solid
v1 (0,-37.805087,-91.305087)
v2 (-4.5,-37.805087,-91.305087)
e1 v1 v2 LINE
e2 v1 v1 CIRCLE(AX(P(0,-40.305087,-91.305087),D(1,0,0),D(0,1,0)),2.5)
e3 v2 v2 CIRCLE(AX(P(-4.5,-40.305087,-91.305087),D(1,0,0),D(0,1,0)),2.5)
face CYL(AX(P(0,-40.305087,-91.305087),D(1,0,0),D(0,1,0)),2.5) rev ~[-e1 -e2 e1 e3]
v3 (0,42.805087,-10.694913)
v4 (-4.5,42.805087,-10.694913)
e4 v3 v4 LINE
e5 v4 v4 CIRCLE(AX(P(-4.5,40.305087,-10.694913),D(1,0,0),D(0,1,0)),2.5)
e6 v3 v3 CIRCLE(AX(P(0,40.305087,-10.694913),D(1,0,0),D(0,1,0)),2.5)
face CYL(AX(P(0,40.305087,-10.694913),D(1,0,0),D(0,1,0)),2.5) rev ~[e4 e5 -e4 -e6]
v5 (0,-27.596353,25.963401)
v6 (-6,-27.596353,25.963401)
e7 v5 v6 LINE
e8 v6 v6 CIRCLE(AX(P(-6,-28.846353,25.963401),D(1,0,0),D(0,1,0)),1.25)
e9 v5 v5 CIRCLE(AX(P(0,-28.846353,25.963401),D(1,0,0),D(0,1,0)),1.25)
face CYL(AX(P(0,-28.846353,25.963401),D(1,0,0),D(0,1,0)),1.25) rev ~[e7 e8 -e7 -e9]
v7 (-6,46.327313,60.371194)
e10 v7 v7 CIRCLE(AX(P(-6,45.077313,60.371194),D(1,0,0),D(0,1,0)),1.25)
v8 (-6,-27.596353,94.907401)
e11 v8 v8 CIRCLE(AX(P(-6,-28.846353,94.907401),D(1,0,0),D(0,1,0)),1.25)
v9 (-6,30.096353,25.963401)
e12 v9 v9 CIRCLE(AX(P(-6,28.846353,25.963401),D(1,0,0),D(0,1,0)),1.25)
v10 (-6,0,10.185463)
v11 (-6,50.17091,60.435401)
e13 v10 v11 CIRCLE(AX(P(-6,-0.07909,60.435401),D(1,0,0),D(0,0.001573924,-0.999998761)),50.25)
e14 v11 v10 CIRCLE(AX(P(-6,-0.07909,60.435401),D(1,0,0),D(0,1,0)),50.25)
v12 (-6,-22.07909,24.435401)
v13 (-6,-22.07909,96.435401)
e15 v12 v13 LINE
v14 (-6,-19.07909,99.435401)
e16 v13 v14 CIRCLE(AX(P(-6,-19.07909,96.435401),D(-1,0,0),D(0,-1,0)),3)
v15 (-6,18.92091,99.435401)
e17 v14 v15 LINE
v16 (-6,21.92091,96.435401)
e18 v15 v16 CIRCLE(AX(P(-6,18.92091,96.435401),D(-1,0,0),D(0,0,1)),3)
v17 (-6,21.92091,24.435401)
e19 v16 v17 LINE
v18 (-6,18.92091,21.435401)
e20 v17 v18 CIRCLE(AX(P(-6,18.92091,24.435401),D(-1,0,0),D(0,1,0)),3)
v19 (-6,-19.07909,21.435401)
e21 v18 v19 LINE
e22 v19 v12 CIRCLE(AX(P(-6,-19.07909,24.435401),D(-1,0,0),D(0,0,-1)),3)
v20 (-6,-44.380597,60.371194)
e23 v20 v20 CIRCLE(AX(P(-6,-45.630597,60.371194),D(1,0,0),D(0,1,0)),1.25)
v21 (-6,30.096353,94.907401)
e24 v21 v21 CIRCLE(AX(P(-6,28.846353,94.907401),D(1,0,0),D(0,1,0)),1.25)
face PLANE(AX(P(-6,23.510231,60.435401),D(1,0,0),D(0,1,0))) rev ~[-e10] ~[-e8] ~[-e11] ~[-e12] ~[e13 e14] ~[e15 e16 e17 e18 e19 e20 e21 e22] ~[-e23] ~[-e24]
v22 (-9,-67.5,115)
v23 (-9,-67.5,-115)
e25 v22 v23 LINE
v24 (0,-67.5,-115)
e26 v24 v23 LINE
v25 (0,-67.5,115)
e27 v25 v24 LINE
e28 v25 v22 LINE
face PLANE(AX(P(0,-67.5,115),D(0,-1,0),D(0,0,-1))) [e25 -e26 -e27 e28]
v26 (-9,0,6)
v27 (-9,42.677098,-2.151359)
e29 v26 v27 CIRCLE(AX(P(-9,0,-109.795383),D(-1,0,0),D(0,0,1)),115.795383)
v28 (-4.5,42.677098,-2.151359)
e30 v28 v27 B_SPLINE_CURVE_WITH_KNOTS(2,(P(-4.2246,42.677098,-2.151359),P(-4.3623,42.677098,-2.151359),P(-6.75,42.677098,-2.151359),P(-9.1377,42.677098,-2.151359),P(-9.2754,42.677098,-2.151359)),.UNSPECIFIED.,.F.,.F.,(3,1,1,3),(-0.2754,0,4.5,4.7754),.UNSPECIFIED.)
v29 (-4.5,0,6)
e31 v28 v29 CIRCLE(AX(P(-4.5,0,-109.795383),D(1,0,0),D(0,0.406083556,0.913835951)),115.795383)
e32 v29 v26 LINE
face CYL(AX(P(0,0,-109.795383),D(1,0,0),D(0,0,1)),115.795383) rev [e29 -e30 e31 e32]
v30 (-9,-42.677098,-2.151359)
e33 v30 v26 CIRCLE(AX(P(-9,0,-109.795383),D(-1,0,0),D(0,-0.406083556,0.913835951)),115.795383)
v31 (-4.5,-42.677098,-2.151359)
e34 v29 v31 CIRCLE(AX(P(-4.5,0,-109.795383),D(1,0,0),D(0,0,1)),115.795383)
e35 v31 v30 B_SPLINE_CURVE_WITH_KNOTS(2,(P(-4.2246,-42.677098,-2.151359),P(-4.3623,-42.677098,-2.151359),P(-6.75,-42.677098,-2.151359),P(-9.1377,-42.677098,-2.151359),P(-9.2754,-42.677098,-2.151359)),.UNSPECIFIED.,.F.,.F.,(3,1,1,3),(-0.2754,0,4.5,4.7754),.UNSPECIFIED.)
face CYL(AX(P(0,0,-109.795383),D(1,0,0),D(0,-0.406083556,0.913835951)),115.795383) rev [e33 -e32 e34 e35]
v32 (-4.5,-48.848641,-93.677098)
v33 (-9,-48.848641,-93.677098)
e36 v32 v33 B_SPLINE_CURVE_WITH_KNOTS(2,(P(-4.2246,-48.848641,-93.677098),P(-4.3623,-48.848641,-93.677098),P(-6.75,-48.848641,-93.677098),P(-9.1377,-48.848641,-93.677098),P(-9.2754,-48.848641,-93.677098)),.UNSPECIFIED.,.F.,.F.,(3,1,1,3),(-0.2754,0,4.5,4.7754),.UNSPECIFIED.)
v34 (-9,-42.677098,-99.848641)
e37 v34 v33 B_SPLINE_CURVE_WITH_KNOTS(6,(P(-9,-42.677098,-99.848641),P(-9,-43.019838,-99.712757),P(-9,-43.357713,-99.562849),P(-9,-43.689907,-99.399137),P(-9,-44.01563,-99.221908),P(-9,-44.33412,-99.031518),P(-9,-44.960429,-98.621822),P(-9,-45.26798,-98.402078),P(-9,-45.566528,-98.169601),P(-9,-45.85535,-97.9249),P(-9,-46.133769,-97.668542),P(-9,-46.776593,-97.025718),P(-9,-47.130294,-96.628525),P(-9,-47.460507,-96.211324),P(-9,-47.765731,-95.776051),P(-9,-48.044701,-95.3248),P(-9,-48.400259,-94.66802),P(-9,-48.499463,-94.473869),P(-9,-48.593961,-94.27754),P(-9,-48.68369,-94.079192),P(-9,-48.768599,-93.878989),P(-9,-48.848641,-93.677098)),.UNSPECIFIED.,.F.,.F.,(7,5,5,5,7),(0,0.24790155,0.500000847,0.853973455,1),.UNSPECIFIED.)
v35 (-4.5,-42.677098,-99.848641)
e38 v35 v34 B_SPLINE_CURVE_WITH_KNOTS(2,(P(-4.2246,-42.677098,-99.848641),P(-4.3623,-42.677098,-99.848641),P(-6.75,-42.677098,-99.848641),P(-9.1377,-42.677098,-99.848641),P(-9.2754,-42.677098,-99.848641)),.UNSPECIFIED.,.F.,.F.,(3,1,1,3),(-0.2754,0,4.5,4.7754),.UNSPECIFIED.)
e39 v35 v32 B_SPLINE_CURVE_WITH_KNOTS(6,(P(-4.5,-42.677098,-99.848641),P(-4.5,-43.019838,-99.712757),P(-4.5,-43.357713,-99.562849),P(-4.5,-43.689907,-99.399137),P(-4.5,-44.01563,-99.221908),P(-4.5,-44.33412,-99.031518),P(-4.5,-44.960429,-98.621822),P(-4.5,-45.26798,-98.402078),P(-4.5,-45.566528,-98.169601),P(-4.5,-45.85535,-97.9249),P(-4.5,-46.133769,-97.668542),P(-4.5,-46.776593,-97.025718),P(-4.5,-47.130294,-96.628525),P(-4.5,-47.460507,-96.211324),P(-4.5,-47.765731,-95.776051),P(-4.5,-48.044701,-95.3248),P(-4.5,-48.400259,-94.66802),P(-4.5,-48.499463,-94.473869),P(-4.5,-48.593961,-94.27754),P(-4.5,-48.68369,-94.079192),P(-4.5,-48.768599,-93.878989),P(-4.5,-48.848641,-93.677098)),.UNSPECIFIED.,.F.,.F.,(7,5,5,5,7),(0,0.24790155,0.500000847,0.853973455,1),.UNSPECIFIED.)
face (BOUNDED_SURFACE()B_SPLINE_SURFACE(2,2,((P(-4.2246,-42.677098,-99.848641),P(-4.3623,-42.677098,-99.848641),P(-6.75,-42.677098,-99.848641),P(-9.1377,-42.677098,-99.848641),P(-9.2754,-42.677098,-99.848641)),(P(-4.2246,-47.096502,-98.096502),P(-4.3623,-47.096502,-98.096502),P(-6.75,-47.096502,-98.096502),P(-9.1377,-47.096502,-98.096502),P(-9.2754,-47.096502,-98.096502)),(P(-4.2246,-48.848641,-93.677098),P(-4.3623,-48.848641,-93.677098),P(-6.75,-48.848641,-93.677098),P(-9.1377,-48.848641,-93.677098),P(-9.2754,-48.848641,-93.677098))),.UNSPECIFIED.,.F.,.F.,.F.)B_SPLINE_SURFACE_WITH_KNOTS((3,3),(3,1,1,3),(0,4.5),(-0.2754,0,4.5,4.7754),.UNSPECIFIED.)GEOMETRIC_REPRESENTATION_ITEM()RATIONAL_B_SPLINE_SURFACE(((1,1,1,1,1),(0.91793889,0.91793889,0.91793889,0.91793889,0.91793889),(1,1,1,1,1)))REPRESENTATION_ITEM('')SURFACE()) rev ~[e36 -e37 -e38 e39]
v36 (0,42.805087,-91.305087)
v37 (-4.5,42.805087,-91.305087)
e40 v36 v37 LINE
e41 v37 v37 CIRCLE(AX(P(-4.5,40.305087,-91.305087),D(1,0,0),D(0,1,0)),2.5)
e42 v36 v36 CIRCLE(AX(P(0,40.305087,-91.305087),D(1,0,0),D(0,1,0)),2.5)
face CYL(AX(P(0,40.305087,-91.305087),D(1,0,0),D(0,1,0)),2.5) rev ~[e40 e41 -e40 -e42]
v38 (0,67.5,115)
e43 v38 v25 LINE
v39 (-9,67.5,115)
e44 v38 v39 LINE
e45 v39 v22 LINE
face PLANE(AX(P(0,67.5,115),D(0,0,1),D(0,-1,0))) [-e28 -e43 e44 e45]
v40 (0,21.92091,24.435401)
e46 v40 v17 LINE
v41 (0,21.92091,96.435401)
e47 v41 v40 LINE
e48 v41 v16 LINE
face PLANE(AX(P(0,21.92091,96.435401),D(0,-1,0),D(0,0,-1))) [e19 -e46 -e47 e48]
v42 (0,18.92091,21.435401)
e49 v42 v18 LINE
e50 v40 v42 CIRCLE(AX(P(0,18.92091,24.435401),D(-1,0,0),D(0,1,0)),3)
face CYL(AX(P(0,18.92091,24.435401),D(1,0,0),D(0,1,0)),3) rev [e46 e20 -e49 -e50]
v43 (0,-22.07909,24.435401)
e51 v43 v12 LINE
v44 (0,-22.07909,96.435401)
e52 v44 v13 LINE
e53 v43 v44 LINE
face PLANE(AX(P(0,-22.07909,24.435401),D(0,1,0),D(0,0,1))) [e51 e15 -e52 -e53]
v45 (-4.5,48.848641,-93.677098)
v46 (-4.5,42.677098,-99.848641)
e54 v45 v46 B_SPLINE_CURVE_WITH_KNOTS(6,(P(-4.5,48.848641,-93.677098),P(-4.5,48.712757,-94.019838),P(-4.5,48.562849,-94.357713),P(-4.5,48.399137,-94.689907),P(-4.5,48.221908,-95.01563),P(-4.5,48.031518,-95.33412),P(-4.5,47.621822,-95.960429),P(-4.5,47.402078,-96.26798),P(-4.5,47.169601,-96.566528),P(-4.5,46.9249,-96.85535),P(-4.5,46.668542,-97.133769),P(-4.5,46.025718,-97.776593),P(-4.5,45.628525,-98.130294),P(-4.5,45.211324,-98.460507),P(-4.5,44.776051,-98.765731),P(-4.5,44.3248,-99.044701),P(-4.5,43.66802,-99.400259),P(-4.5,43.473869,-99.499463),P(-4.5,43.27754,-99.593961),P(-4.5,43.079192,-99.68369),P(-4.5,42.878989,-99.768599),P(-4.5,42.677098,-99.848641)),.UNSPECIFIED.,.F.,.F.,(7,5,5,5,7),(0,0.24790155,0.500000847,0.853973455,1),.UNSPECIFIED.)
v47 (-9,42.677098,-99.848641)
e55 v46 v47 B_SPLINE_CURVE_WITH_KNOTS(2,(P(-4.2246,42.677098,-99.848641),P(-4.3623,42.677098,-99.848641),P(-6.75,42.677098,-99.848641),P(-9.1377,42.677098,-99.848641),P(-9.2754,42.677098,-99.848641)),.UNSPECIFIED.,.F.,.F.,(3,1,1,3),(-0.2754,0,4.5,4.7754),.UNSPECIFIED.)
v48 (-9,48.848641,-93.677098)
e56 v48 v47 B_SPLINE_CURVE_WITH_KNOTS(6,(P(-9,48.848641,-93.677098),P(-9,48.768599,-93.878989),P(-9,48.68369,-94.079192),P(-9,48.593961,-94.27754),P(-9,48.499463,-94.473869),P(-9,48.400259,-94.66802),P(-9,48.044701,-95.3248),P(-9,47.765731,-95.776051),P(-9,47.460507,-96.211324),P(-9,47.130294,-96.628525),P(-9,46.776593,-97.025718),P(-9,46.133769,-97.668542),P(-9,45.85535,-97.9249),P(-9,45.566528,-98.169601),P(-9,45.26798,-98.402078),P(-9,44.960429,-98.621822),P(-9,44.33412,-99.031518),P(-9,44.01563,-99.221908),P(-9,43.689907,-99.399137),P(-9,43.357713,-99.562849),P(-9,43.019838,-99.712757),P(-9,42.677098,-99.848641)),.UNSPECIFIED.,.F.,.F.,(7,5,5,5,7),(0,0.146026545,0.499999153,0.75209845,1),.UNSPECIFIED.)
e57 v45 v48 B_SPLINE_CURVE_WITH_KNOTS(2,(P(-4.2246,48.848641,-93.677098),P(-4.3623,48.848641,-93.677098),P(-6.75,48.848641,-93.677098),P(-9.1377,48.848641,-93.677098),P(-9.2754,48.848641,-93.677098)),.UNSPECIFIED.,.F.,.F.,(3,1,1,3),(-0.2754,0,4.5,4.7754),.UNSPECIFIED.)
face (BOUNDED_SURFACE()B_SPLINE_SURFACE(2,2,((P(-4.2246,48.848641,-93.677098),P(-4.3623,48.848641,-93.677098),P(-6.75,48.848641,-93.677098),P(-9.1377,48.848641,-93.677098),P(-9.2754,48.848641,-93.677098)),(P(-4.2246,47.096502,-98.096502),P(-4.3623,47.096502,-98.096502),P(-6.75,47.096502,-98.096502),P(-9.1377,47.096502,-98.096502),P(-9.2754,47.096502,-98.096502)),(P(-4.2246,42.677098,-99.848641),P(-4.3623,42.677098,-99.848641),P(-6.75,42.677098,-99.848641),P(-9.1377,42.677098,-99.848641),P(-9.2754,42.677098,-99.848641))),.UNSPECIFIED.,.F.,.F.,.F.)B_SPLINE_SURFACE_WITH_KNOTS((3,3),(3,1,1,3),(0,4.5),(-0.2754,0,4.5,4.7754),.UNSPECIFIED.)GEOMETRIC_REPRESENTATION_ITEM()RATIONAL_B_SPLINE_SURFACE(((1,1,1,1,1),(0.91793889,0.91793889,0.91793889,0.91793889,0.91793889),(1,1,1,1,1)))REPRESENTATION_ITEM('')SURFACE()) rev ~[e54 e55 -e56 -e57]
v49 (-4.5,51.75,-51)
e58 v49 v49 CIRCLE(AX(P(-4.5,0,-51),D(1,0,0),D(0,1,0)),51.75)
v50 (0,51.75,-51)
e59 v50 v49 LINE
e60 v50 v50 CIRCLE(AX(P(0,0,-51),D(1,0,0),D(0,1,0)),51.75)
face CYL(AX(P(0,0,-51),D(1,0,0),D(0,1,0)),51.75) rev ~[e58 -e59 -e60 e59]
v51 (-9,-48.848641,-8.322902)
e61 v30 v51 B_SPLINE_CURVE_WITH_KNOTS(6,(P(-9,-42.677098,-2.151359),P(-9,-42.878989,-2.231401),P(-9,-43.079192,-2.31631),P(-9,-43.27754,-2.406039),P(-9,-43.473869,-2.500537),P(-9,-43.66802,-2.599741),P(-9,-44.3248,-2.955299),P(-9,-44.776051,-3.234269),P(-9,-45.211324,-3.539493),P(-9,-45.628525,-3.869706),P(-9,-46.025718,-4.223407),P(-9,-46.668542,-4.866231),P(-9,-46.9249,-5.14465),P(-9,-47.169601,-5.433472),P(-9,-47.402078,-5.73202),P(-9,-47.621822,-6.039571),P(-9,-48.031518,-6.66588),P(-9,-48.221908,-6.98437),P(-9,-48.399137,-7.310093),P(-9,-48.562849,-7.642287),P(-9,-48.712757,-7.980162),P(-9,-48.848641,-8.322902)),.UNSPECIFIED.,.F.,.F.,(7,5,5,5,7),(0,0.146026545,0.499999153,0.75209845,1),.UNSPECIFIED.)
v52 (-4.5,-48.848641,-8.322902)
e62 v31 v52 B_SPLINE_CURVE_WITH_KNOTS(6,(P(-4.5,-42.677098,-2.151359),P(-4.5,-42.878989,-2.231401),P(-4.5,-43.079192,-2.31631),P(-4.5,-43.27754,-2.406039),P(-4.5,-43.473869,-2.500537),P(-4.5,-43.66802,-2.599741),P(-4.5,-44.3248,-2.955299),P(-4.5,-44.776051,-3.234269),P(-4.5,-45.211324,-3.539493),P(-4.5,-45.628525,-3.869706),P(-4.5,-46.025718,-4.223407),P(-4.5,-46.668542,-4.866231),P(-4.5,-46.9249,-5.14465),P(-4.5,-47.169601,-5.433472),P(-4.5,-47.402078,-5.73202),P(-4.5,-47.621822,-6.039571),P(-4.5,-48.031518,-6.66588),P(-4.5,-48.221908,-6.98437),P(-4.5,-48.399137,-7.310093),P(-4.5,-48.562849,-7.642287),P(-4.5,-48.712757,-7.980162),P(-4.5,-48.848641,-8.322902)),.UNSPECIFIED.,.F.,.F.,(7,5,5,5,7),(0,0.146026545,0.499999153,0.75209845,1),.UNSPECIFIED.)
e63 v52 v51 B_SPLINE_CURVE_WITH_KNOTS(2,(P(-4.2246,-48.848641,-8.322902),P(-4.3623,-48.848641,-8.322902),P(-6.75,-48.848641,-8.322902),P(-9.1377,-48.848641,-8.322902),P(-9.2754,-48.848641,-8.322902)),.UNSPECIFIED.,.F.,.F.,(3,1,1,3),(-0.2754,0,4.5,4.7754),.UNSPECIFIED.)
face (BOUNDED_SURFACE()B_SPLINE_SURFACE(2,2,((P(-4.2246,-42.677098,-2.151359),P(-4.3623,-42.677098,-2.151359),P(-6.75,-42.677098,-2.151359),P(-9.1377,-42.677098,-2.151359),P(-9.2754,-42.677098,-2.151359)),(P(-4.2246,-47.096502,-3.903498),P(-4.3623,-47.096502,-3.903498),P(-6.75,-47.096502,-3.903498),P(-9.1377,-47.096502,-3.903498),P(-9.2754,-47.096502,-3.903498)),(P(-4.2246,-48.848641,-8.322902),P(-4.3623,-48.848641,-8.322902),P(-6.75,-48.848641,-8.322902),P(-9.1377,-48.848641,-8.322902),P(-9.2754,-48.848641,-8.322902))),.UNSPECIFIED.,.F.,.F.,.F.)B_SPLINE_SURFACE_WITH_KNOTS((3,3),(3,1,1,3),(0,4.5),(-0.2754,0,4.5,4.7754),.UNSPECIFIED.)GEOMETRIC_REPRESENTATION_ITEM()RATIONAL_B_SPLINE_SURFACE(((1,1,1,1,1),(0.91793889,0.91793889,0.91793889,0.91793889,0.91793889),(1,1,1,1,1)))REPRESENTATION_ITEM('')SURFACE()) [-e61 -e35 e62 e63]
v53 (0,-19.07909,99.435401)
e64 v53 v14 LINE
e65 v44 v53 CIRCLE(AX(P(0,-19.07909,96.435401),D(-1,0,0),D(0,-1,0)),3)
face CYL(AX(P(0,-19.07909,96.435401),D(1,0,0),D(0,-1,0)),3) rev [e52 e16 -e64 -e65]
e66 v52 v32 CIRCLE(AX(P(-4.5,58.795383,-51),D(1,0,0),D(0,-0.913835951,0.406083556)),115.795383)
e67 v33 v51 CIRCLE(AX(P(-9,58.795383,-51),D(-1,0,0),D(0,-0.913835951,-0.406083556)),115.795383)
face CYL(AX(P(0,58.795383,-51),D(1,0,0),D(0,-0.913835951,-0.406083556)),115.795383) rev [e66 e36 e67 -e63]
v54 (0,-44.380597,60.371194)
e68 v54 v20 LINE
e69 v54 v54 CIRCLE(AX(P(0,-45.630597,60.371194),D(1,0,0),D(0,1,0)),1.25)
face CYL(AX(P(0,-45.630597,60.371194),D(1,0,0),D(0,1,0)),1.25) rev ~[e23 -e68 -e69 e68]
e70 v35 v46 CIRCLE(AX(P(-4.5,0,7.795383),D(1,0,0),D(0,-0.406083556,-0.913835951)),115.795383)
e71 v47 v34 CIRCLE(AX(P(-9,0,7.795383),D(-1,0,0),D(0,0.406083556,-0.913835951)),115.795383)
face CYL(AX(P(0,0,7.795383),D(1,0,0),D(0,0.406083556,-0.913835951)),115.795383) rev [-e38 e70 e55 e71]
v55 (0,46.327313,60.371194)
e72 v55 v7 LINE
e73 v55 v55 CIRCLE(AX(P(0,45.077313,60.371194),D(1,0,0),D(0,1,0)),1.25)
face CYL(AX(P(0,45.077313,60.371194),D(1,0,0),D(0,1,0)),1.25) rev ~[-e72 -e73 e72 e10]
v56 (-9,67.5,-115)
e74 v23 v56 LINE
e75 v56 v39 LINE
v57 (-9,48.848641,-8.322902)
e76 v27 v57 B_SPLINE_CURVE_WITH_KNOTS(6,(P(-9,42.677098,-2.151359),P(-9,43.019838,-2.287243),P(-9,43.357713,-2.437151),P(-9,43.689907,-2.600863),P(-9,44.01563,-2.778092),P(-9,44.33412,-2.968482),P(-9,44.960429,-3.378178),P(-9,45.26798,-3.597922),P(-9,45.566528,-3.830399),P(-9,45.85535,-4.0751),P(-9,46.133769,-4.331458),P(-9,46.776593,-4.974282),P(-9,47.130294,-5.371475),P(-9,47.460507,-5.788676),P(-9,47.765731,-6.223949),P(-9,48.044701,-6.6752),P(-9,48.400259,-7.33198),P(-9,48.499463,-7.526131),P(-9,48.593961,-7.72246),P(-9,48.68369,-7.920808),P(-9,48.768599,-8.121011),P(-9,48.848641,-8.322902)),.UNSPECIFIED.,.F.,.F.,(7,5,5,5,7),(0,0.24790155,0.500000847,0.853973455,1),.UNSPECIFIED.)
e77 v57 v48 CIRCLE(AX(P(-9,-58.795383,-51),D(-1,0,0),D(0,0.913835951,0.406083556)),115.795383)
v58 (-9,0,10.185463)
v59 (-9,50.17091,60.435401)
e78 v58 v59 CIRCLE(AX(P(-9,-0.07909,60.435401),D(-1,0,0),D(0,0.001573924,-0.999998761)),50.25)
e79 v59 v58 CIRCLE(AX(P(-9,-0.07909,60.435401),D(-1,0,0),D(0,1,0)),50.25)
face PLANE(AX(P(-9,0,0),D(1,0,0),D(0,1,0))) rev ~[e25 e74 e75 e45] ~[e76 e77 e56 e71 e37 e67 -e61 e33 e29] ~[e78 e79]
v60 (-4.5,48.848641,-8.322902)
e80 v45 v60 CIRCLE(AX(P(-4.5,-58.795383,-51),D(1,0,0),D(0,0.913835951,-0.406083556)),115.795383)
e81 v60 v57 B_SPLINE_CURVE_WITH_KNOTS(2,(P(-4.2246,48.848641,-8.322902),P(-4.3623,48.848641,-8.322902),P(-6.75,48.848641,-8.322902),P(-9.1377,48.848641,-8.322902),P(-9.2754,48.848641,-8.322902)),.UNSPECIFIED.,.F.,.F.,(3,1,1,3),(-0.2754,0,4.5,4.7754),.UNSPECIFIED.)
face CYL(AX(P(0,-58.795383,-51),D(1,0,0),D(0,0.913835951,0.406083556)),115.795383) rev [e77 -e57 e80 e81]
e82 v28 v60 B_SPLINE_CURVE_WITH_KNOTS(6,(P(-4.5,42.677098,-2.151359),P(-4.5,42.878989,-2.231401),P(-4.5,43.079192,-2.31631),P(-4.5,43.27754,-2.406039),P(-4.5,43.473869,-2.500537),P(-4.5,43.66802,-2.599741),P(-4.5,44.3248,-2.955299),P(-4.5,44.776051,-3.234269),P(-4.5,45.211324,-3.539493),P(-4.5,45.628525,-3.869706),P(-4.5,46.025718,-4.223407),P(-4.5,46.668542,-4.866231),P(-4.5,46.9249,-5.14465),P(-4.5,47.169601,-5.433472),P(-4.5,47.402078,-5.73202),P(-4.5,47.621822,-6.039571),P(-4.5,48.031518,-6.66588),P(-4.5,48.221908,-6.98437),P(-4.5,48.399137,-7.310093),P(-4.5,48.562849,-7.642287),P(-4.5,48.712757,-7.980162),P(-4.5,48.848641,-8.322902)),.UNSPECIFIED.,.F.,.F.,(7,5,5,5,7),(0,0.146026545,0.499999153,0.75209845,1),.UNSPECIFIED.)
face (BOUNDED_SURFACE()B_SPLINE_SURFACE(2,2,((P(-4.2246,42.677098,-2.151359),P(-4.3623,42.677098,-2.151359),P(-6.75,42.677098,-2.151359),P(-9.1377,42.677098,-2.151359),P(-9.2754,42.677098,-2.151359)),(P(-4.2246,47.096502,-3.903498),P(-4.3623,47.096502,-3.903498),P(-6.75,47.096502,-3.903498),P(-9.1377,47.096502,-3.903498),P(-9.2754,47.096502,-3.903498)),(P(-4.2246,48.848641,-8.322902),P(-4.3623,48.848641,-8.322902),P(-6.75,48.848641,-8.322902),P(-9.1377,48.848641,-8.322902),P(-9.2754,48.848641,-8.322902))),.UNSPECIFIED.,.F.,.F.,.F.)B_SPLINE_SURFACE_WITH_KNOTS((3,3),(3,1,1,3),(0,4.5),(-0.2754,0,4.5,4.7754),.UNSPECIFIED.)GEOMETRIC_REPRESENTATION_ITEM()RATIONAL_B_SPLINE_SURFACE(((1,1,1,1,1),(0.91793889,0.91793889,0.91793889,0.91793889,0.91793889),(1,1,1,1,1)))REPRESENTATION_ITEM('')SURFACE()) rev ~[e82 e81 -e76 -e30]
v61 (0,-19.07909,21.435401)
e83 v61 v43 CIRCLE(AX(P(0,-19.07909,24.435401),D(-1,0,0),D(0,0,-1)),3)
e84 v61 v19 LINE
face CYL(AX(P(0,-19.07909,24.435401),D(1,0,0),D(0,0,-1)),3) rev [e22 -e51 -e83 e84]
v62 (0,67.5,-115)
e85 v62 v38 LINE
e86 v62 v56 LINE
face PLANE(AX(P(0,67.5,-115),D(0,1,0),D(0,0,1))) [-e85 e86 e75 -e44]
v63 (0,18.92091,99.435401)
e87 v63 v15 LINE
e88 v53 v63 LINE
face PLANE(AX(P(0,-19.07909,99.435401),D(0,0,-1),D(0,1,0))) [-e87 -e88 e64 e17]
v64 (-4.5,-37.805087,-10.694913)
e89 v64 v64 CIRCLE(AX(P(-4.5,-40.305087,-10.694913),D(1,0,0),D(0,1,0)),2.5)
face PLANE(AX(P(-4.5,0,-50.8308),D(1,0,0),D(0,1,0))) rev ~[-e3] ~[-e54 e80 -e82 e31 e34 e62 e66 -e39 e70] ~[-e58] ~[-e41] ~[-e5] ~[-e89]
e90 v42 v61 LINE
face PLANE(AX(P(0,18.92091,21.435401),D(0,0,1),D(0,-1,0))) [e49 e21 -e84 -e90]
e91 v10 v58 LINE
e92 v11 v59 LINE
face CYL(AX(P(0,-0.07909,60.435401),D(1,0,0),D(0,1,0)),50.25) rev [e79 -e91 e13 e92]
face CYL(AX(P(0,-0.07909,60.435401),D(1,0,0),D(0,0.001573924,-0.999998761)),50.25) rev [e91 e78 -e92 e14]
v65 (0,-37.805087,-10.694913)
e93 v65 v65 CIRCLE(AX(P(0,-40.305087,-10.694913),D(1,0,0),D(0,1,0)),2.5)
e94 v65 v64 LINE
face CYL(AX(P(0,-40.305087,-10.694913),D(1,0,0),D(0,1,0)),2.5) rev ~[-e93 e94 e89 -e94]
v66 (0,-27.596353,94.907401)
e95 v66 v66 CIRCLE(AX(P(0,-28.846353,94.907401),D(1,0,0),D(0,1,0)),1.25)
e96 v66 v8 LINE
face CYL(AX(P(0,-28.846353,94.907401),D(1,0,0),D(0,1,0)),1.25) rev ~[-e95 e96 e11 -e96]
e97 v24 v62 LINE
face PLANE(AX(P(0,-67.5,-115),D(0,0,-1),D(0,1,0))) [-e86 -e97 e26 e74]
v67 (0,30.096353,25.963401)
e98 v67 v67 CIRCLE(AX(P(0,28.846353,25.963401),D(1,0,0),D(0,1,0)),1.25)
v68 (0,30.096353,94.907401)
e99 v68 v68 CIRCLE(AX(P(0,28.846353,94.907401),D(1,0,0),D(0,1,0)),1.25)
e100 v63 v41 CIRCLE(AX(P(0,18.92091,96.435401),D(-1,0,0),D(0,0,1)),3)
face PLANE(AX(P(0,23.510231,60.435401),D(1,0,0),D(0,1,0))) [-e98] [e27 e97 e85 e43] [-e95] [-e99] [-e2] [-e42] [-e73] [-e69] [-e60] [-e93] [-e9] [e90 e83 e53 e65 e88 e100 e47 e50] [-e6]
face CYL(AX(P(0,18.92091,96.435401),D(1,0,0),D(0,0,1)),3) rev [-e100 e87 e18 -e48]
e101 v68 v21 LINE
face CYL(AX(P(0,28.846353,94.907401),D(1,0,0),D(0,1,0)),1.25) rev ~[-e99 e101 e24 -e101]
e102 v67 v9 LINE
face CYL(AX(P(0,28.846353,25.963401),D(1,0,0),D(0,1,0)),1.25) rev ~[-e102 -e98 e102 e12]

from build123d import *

# Parameters (mm, degrees)
F1_DEPTH = 9
F0_R     = 2.5
F0_R_2   = 51.75
F2_DEPTH = 4.5
F3_R     = 11
F0_R_3   = 1.25
F4_DEPTH = 6


with BuildPart() as f1:
    # F0 (on Right) → F1 (new body)
    with BuildSketch(Plane.YZ):
        Polygon((67.5, -115), (67.5, 115), (0, 115), (-67.5, 115), (-67.5, -115), align=None)
        with BuildLine():
            ThreePointArc((-47.0226009489, -3.9773990511), (-24.0347326375, 3.4781900517), (0, 6))
            ThreePointArc((0, 6), (24.0347326375, 3.4781900517), (47.0226009489, -3.9773990511))
            ThreePointArc((47.0226009489, -3.9773990511), (57, -51), (47.0226009489, -98.0226009489))
            ThreePointArc((47.0226009489, -98.0226009489), (0, -108), (-47.0226009489, -98.0226009489))
            ThreePointArc((-47.0226009489, -98.0226009489), (-57, -51), (-47.0226009489, -3.9773990511))
        make_face(mode=Mode.SUBTRACT)
        with BuildLine():
            ThreePointArc((0, 10.1854634317), (-50.3290897047, 60.4354011911), (0, 110.6853389504))
            ThreePointArc((0, 110.6853389504), (35.4809774891, 95.9395435011), (50.1709102953, 60.4354011911))
            ThreePointArc((50.1709102953, 60.4354011911), (35.4809774891, 24.9312588811), (0, 10.1854634317))
        make_face(mode=Mode.SUBTRACT)
    extrude(amount=-F1_DEPTH)

    # F0 (on Right) → F2 (join)
    with BuildSketch(Plane.YZ):
        with BuildLine():
            ThreePointArc((47.0226009489, -3.9773990511), (24.0347326375, 3.4781900517), (0, 6))
            ThreePointArc((0, 6), (-24.0347326375, 3.4781900517), (-47.0226009489, -3.9773990511))
            ThreePointArc((-47.0226009489, -3.9773990511), (-57, -51), (-47.0226009489, -98.0226009489))
            ThreePointArc((-47.0226009489, -98.0226009489), (0, -108), (47.0226009489, -98.0226009489))
            ThreePointArc((47.0226009489, -98.0226009489), (57, -51), (47.0226009489, -3.9773990511))
        make_face()
        with Locations((-40.3050865276, -91.3050865276)):
            Circle(F0_R, mode=Mode.SUBTRACT)
        with Locations((-40.3050865276, -10.6949134724)):
            Circle(F0_R, mode=Mode.SUBTRACT)
        with Locations((40.3050865276, -91.3050865276)):
            Circle(F0_R, mode=Mode.SUBTRACT)
        with Locations((0, -51)):
            Circle(F0_R_2, mode=Mode.SUBTRACT)
        with Locations((40.3050865276, -10.6949134724)):
            Circle(F0_R, mode=Mode.SUBTRACT)
    extrude(amount=-F2_DEPTH)

    # F3
    f3_edges = [f1.edges().sort_by_distance(p)[0] for p in [
        (-6.75, 47.022601, -3.977399),
        (-6.75, -47.022601, -3.977399),
        (-6.75, -47.022601, -98.022601),
        (-6.75, 47.022601, -98.022601),
    ]]
    fillet(f3_edges, radius=F3_R)

    # F0 (on Right) → F4 (join)
    with BuildSketch(Plane.YZ):
        with BuildLine():
            ThreePointArc((50.1709102953, 60.4354011911), (35.4809774891, 95.9395435011), (0, 110.6853389504))
            Line((0, 110.6853389504), (0, 99.4354011911))
            Line((0, 99.4354011911), (18.9209102953, 99.4354011911))
            ThreePointArc((18.9209102953, 99.4354011911), (21.0422306388, 98.5567215346), (21.9209102953, 96.4354011911))
            Line((21.9209102953, 96.4354011911), (21.9209102953, 24.4354011911))
            ThreePointArc((21.9209102953, 24.4354011911), (21.0422306388, 22.3140808475), (18.9209102953, 21.4354011911))
            Line((18.9209102953, 21.4354011911), (0, 21.4354011911))
            Line((0, 21.4354011911), (0, 10.1854634317))
            ThreePointArc((0, 10.1854634317), (35.4809774891, 24.9312588811), (50.1709102953, 60.4354011911))
        make_face()
        with Locations((28.8463527312, 25.9634012507)):
            Circle(F0_R_3, mode=Mode.SUBTRACT)
        with Locations((28.8463527312, 94.9074011314)):
            Circle(F0_R_3, mode=Mode.SUBTRACT)
        with Locations((45.0773127377, 60.3711940348)):
            Circle(F0_R_3, mode=Mode.SUBTRACT)
        with BuildLine():
            Line((0, 99.4354011911), (0, 110.6853389504))
            ThreePointArc((0, 110.6853389504), (-50.3290897047, 60.4354011911), (0, 10.1854634317))
            Line((0, 10.1854634317), (0, 21.4354011911))
            Line((0, 21.4354011911), (-19.0790897047, 21.4354011911))
            ThreePointArc((-19.0790897047, 21.4354011911), (-21.2004100483, 22.3140808475), (-22.0790897047, 24.4354011911))
            Line((-22.0790897047, 24.4354011911), (-22.0790897047, 96.4354011911))
            ThreePointArc((-22.0790897047, 96.4354011911), (-21.2004100483, 98.5567215346), (-19.0790897047, 99.4354011911))
            Line((-19.0790897047, 99.4354011911), (0, 99.4354011911))
        make_face()
        with Locations((-28.8463527312, 25.9634012507)):
            Circle(F0_R_3, mode=Mode.SUBTRACT)
        with Locations((-45.6305965781, 60.3711940348)):
            Circle(F0_R_3, mode=Mode.SUBTRACT)
        with Locations((-28.8463527312, 94.9074011314)):
            Circle(F0_R_3, mode=Mode.SUBTRACT)
    extrude(amount=-F4_DEPTH)


solid = f1.part
